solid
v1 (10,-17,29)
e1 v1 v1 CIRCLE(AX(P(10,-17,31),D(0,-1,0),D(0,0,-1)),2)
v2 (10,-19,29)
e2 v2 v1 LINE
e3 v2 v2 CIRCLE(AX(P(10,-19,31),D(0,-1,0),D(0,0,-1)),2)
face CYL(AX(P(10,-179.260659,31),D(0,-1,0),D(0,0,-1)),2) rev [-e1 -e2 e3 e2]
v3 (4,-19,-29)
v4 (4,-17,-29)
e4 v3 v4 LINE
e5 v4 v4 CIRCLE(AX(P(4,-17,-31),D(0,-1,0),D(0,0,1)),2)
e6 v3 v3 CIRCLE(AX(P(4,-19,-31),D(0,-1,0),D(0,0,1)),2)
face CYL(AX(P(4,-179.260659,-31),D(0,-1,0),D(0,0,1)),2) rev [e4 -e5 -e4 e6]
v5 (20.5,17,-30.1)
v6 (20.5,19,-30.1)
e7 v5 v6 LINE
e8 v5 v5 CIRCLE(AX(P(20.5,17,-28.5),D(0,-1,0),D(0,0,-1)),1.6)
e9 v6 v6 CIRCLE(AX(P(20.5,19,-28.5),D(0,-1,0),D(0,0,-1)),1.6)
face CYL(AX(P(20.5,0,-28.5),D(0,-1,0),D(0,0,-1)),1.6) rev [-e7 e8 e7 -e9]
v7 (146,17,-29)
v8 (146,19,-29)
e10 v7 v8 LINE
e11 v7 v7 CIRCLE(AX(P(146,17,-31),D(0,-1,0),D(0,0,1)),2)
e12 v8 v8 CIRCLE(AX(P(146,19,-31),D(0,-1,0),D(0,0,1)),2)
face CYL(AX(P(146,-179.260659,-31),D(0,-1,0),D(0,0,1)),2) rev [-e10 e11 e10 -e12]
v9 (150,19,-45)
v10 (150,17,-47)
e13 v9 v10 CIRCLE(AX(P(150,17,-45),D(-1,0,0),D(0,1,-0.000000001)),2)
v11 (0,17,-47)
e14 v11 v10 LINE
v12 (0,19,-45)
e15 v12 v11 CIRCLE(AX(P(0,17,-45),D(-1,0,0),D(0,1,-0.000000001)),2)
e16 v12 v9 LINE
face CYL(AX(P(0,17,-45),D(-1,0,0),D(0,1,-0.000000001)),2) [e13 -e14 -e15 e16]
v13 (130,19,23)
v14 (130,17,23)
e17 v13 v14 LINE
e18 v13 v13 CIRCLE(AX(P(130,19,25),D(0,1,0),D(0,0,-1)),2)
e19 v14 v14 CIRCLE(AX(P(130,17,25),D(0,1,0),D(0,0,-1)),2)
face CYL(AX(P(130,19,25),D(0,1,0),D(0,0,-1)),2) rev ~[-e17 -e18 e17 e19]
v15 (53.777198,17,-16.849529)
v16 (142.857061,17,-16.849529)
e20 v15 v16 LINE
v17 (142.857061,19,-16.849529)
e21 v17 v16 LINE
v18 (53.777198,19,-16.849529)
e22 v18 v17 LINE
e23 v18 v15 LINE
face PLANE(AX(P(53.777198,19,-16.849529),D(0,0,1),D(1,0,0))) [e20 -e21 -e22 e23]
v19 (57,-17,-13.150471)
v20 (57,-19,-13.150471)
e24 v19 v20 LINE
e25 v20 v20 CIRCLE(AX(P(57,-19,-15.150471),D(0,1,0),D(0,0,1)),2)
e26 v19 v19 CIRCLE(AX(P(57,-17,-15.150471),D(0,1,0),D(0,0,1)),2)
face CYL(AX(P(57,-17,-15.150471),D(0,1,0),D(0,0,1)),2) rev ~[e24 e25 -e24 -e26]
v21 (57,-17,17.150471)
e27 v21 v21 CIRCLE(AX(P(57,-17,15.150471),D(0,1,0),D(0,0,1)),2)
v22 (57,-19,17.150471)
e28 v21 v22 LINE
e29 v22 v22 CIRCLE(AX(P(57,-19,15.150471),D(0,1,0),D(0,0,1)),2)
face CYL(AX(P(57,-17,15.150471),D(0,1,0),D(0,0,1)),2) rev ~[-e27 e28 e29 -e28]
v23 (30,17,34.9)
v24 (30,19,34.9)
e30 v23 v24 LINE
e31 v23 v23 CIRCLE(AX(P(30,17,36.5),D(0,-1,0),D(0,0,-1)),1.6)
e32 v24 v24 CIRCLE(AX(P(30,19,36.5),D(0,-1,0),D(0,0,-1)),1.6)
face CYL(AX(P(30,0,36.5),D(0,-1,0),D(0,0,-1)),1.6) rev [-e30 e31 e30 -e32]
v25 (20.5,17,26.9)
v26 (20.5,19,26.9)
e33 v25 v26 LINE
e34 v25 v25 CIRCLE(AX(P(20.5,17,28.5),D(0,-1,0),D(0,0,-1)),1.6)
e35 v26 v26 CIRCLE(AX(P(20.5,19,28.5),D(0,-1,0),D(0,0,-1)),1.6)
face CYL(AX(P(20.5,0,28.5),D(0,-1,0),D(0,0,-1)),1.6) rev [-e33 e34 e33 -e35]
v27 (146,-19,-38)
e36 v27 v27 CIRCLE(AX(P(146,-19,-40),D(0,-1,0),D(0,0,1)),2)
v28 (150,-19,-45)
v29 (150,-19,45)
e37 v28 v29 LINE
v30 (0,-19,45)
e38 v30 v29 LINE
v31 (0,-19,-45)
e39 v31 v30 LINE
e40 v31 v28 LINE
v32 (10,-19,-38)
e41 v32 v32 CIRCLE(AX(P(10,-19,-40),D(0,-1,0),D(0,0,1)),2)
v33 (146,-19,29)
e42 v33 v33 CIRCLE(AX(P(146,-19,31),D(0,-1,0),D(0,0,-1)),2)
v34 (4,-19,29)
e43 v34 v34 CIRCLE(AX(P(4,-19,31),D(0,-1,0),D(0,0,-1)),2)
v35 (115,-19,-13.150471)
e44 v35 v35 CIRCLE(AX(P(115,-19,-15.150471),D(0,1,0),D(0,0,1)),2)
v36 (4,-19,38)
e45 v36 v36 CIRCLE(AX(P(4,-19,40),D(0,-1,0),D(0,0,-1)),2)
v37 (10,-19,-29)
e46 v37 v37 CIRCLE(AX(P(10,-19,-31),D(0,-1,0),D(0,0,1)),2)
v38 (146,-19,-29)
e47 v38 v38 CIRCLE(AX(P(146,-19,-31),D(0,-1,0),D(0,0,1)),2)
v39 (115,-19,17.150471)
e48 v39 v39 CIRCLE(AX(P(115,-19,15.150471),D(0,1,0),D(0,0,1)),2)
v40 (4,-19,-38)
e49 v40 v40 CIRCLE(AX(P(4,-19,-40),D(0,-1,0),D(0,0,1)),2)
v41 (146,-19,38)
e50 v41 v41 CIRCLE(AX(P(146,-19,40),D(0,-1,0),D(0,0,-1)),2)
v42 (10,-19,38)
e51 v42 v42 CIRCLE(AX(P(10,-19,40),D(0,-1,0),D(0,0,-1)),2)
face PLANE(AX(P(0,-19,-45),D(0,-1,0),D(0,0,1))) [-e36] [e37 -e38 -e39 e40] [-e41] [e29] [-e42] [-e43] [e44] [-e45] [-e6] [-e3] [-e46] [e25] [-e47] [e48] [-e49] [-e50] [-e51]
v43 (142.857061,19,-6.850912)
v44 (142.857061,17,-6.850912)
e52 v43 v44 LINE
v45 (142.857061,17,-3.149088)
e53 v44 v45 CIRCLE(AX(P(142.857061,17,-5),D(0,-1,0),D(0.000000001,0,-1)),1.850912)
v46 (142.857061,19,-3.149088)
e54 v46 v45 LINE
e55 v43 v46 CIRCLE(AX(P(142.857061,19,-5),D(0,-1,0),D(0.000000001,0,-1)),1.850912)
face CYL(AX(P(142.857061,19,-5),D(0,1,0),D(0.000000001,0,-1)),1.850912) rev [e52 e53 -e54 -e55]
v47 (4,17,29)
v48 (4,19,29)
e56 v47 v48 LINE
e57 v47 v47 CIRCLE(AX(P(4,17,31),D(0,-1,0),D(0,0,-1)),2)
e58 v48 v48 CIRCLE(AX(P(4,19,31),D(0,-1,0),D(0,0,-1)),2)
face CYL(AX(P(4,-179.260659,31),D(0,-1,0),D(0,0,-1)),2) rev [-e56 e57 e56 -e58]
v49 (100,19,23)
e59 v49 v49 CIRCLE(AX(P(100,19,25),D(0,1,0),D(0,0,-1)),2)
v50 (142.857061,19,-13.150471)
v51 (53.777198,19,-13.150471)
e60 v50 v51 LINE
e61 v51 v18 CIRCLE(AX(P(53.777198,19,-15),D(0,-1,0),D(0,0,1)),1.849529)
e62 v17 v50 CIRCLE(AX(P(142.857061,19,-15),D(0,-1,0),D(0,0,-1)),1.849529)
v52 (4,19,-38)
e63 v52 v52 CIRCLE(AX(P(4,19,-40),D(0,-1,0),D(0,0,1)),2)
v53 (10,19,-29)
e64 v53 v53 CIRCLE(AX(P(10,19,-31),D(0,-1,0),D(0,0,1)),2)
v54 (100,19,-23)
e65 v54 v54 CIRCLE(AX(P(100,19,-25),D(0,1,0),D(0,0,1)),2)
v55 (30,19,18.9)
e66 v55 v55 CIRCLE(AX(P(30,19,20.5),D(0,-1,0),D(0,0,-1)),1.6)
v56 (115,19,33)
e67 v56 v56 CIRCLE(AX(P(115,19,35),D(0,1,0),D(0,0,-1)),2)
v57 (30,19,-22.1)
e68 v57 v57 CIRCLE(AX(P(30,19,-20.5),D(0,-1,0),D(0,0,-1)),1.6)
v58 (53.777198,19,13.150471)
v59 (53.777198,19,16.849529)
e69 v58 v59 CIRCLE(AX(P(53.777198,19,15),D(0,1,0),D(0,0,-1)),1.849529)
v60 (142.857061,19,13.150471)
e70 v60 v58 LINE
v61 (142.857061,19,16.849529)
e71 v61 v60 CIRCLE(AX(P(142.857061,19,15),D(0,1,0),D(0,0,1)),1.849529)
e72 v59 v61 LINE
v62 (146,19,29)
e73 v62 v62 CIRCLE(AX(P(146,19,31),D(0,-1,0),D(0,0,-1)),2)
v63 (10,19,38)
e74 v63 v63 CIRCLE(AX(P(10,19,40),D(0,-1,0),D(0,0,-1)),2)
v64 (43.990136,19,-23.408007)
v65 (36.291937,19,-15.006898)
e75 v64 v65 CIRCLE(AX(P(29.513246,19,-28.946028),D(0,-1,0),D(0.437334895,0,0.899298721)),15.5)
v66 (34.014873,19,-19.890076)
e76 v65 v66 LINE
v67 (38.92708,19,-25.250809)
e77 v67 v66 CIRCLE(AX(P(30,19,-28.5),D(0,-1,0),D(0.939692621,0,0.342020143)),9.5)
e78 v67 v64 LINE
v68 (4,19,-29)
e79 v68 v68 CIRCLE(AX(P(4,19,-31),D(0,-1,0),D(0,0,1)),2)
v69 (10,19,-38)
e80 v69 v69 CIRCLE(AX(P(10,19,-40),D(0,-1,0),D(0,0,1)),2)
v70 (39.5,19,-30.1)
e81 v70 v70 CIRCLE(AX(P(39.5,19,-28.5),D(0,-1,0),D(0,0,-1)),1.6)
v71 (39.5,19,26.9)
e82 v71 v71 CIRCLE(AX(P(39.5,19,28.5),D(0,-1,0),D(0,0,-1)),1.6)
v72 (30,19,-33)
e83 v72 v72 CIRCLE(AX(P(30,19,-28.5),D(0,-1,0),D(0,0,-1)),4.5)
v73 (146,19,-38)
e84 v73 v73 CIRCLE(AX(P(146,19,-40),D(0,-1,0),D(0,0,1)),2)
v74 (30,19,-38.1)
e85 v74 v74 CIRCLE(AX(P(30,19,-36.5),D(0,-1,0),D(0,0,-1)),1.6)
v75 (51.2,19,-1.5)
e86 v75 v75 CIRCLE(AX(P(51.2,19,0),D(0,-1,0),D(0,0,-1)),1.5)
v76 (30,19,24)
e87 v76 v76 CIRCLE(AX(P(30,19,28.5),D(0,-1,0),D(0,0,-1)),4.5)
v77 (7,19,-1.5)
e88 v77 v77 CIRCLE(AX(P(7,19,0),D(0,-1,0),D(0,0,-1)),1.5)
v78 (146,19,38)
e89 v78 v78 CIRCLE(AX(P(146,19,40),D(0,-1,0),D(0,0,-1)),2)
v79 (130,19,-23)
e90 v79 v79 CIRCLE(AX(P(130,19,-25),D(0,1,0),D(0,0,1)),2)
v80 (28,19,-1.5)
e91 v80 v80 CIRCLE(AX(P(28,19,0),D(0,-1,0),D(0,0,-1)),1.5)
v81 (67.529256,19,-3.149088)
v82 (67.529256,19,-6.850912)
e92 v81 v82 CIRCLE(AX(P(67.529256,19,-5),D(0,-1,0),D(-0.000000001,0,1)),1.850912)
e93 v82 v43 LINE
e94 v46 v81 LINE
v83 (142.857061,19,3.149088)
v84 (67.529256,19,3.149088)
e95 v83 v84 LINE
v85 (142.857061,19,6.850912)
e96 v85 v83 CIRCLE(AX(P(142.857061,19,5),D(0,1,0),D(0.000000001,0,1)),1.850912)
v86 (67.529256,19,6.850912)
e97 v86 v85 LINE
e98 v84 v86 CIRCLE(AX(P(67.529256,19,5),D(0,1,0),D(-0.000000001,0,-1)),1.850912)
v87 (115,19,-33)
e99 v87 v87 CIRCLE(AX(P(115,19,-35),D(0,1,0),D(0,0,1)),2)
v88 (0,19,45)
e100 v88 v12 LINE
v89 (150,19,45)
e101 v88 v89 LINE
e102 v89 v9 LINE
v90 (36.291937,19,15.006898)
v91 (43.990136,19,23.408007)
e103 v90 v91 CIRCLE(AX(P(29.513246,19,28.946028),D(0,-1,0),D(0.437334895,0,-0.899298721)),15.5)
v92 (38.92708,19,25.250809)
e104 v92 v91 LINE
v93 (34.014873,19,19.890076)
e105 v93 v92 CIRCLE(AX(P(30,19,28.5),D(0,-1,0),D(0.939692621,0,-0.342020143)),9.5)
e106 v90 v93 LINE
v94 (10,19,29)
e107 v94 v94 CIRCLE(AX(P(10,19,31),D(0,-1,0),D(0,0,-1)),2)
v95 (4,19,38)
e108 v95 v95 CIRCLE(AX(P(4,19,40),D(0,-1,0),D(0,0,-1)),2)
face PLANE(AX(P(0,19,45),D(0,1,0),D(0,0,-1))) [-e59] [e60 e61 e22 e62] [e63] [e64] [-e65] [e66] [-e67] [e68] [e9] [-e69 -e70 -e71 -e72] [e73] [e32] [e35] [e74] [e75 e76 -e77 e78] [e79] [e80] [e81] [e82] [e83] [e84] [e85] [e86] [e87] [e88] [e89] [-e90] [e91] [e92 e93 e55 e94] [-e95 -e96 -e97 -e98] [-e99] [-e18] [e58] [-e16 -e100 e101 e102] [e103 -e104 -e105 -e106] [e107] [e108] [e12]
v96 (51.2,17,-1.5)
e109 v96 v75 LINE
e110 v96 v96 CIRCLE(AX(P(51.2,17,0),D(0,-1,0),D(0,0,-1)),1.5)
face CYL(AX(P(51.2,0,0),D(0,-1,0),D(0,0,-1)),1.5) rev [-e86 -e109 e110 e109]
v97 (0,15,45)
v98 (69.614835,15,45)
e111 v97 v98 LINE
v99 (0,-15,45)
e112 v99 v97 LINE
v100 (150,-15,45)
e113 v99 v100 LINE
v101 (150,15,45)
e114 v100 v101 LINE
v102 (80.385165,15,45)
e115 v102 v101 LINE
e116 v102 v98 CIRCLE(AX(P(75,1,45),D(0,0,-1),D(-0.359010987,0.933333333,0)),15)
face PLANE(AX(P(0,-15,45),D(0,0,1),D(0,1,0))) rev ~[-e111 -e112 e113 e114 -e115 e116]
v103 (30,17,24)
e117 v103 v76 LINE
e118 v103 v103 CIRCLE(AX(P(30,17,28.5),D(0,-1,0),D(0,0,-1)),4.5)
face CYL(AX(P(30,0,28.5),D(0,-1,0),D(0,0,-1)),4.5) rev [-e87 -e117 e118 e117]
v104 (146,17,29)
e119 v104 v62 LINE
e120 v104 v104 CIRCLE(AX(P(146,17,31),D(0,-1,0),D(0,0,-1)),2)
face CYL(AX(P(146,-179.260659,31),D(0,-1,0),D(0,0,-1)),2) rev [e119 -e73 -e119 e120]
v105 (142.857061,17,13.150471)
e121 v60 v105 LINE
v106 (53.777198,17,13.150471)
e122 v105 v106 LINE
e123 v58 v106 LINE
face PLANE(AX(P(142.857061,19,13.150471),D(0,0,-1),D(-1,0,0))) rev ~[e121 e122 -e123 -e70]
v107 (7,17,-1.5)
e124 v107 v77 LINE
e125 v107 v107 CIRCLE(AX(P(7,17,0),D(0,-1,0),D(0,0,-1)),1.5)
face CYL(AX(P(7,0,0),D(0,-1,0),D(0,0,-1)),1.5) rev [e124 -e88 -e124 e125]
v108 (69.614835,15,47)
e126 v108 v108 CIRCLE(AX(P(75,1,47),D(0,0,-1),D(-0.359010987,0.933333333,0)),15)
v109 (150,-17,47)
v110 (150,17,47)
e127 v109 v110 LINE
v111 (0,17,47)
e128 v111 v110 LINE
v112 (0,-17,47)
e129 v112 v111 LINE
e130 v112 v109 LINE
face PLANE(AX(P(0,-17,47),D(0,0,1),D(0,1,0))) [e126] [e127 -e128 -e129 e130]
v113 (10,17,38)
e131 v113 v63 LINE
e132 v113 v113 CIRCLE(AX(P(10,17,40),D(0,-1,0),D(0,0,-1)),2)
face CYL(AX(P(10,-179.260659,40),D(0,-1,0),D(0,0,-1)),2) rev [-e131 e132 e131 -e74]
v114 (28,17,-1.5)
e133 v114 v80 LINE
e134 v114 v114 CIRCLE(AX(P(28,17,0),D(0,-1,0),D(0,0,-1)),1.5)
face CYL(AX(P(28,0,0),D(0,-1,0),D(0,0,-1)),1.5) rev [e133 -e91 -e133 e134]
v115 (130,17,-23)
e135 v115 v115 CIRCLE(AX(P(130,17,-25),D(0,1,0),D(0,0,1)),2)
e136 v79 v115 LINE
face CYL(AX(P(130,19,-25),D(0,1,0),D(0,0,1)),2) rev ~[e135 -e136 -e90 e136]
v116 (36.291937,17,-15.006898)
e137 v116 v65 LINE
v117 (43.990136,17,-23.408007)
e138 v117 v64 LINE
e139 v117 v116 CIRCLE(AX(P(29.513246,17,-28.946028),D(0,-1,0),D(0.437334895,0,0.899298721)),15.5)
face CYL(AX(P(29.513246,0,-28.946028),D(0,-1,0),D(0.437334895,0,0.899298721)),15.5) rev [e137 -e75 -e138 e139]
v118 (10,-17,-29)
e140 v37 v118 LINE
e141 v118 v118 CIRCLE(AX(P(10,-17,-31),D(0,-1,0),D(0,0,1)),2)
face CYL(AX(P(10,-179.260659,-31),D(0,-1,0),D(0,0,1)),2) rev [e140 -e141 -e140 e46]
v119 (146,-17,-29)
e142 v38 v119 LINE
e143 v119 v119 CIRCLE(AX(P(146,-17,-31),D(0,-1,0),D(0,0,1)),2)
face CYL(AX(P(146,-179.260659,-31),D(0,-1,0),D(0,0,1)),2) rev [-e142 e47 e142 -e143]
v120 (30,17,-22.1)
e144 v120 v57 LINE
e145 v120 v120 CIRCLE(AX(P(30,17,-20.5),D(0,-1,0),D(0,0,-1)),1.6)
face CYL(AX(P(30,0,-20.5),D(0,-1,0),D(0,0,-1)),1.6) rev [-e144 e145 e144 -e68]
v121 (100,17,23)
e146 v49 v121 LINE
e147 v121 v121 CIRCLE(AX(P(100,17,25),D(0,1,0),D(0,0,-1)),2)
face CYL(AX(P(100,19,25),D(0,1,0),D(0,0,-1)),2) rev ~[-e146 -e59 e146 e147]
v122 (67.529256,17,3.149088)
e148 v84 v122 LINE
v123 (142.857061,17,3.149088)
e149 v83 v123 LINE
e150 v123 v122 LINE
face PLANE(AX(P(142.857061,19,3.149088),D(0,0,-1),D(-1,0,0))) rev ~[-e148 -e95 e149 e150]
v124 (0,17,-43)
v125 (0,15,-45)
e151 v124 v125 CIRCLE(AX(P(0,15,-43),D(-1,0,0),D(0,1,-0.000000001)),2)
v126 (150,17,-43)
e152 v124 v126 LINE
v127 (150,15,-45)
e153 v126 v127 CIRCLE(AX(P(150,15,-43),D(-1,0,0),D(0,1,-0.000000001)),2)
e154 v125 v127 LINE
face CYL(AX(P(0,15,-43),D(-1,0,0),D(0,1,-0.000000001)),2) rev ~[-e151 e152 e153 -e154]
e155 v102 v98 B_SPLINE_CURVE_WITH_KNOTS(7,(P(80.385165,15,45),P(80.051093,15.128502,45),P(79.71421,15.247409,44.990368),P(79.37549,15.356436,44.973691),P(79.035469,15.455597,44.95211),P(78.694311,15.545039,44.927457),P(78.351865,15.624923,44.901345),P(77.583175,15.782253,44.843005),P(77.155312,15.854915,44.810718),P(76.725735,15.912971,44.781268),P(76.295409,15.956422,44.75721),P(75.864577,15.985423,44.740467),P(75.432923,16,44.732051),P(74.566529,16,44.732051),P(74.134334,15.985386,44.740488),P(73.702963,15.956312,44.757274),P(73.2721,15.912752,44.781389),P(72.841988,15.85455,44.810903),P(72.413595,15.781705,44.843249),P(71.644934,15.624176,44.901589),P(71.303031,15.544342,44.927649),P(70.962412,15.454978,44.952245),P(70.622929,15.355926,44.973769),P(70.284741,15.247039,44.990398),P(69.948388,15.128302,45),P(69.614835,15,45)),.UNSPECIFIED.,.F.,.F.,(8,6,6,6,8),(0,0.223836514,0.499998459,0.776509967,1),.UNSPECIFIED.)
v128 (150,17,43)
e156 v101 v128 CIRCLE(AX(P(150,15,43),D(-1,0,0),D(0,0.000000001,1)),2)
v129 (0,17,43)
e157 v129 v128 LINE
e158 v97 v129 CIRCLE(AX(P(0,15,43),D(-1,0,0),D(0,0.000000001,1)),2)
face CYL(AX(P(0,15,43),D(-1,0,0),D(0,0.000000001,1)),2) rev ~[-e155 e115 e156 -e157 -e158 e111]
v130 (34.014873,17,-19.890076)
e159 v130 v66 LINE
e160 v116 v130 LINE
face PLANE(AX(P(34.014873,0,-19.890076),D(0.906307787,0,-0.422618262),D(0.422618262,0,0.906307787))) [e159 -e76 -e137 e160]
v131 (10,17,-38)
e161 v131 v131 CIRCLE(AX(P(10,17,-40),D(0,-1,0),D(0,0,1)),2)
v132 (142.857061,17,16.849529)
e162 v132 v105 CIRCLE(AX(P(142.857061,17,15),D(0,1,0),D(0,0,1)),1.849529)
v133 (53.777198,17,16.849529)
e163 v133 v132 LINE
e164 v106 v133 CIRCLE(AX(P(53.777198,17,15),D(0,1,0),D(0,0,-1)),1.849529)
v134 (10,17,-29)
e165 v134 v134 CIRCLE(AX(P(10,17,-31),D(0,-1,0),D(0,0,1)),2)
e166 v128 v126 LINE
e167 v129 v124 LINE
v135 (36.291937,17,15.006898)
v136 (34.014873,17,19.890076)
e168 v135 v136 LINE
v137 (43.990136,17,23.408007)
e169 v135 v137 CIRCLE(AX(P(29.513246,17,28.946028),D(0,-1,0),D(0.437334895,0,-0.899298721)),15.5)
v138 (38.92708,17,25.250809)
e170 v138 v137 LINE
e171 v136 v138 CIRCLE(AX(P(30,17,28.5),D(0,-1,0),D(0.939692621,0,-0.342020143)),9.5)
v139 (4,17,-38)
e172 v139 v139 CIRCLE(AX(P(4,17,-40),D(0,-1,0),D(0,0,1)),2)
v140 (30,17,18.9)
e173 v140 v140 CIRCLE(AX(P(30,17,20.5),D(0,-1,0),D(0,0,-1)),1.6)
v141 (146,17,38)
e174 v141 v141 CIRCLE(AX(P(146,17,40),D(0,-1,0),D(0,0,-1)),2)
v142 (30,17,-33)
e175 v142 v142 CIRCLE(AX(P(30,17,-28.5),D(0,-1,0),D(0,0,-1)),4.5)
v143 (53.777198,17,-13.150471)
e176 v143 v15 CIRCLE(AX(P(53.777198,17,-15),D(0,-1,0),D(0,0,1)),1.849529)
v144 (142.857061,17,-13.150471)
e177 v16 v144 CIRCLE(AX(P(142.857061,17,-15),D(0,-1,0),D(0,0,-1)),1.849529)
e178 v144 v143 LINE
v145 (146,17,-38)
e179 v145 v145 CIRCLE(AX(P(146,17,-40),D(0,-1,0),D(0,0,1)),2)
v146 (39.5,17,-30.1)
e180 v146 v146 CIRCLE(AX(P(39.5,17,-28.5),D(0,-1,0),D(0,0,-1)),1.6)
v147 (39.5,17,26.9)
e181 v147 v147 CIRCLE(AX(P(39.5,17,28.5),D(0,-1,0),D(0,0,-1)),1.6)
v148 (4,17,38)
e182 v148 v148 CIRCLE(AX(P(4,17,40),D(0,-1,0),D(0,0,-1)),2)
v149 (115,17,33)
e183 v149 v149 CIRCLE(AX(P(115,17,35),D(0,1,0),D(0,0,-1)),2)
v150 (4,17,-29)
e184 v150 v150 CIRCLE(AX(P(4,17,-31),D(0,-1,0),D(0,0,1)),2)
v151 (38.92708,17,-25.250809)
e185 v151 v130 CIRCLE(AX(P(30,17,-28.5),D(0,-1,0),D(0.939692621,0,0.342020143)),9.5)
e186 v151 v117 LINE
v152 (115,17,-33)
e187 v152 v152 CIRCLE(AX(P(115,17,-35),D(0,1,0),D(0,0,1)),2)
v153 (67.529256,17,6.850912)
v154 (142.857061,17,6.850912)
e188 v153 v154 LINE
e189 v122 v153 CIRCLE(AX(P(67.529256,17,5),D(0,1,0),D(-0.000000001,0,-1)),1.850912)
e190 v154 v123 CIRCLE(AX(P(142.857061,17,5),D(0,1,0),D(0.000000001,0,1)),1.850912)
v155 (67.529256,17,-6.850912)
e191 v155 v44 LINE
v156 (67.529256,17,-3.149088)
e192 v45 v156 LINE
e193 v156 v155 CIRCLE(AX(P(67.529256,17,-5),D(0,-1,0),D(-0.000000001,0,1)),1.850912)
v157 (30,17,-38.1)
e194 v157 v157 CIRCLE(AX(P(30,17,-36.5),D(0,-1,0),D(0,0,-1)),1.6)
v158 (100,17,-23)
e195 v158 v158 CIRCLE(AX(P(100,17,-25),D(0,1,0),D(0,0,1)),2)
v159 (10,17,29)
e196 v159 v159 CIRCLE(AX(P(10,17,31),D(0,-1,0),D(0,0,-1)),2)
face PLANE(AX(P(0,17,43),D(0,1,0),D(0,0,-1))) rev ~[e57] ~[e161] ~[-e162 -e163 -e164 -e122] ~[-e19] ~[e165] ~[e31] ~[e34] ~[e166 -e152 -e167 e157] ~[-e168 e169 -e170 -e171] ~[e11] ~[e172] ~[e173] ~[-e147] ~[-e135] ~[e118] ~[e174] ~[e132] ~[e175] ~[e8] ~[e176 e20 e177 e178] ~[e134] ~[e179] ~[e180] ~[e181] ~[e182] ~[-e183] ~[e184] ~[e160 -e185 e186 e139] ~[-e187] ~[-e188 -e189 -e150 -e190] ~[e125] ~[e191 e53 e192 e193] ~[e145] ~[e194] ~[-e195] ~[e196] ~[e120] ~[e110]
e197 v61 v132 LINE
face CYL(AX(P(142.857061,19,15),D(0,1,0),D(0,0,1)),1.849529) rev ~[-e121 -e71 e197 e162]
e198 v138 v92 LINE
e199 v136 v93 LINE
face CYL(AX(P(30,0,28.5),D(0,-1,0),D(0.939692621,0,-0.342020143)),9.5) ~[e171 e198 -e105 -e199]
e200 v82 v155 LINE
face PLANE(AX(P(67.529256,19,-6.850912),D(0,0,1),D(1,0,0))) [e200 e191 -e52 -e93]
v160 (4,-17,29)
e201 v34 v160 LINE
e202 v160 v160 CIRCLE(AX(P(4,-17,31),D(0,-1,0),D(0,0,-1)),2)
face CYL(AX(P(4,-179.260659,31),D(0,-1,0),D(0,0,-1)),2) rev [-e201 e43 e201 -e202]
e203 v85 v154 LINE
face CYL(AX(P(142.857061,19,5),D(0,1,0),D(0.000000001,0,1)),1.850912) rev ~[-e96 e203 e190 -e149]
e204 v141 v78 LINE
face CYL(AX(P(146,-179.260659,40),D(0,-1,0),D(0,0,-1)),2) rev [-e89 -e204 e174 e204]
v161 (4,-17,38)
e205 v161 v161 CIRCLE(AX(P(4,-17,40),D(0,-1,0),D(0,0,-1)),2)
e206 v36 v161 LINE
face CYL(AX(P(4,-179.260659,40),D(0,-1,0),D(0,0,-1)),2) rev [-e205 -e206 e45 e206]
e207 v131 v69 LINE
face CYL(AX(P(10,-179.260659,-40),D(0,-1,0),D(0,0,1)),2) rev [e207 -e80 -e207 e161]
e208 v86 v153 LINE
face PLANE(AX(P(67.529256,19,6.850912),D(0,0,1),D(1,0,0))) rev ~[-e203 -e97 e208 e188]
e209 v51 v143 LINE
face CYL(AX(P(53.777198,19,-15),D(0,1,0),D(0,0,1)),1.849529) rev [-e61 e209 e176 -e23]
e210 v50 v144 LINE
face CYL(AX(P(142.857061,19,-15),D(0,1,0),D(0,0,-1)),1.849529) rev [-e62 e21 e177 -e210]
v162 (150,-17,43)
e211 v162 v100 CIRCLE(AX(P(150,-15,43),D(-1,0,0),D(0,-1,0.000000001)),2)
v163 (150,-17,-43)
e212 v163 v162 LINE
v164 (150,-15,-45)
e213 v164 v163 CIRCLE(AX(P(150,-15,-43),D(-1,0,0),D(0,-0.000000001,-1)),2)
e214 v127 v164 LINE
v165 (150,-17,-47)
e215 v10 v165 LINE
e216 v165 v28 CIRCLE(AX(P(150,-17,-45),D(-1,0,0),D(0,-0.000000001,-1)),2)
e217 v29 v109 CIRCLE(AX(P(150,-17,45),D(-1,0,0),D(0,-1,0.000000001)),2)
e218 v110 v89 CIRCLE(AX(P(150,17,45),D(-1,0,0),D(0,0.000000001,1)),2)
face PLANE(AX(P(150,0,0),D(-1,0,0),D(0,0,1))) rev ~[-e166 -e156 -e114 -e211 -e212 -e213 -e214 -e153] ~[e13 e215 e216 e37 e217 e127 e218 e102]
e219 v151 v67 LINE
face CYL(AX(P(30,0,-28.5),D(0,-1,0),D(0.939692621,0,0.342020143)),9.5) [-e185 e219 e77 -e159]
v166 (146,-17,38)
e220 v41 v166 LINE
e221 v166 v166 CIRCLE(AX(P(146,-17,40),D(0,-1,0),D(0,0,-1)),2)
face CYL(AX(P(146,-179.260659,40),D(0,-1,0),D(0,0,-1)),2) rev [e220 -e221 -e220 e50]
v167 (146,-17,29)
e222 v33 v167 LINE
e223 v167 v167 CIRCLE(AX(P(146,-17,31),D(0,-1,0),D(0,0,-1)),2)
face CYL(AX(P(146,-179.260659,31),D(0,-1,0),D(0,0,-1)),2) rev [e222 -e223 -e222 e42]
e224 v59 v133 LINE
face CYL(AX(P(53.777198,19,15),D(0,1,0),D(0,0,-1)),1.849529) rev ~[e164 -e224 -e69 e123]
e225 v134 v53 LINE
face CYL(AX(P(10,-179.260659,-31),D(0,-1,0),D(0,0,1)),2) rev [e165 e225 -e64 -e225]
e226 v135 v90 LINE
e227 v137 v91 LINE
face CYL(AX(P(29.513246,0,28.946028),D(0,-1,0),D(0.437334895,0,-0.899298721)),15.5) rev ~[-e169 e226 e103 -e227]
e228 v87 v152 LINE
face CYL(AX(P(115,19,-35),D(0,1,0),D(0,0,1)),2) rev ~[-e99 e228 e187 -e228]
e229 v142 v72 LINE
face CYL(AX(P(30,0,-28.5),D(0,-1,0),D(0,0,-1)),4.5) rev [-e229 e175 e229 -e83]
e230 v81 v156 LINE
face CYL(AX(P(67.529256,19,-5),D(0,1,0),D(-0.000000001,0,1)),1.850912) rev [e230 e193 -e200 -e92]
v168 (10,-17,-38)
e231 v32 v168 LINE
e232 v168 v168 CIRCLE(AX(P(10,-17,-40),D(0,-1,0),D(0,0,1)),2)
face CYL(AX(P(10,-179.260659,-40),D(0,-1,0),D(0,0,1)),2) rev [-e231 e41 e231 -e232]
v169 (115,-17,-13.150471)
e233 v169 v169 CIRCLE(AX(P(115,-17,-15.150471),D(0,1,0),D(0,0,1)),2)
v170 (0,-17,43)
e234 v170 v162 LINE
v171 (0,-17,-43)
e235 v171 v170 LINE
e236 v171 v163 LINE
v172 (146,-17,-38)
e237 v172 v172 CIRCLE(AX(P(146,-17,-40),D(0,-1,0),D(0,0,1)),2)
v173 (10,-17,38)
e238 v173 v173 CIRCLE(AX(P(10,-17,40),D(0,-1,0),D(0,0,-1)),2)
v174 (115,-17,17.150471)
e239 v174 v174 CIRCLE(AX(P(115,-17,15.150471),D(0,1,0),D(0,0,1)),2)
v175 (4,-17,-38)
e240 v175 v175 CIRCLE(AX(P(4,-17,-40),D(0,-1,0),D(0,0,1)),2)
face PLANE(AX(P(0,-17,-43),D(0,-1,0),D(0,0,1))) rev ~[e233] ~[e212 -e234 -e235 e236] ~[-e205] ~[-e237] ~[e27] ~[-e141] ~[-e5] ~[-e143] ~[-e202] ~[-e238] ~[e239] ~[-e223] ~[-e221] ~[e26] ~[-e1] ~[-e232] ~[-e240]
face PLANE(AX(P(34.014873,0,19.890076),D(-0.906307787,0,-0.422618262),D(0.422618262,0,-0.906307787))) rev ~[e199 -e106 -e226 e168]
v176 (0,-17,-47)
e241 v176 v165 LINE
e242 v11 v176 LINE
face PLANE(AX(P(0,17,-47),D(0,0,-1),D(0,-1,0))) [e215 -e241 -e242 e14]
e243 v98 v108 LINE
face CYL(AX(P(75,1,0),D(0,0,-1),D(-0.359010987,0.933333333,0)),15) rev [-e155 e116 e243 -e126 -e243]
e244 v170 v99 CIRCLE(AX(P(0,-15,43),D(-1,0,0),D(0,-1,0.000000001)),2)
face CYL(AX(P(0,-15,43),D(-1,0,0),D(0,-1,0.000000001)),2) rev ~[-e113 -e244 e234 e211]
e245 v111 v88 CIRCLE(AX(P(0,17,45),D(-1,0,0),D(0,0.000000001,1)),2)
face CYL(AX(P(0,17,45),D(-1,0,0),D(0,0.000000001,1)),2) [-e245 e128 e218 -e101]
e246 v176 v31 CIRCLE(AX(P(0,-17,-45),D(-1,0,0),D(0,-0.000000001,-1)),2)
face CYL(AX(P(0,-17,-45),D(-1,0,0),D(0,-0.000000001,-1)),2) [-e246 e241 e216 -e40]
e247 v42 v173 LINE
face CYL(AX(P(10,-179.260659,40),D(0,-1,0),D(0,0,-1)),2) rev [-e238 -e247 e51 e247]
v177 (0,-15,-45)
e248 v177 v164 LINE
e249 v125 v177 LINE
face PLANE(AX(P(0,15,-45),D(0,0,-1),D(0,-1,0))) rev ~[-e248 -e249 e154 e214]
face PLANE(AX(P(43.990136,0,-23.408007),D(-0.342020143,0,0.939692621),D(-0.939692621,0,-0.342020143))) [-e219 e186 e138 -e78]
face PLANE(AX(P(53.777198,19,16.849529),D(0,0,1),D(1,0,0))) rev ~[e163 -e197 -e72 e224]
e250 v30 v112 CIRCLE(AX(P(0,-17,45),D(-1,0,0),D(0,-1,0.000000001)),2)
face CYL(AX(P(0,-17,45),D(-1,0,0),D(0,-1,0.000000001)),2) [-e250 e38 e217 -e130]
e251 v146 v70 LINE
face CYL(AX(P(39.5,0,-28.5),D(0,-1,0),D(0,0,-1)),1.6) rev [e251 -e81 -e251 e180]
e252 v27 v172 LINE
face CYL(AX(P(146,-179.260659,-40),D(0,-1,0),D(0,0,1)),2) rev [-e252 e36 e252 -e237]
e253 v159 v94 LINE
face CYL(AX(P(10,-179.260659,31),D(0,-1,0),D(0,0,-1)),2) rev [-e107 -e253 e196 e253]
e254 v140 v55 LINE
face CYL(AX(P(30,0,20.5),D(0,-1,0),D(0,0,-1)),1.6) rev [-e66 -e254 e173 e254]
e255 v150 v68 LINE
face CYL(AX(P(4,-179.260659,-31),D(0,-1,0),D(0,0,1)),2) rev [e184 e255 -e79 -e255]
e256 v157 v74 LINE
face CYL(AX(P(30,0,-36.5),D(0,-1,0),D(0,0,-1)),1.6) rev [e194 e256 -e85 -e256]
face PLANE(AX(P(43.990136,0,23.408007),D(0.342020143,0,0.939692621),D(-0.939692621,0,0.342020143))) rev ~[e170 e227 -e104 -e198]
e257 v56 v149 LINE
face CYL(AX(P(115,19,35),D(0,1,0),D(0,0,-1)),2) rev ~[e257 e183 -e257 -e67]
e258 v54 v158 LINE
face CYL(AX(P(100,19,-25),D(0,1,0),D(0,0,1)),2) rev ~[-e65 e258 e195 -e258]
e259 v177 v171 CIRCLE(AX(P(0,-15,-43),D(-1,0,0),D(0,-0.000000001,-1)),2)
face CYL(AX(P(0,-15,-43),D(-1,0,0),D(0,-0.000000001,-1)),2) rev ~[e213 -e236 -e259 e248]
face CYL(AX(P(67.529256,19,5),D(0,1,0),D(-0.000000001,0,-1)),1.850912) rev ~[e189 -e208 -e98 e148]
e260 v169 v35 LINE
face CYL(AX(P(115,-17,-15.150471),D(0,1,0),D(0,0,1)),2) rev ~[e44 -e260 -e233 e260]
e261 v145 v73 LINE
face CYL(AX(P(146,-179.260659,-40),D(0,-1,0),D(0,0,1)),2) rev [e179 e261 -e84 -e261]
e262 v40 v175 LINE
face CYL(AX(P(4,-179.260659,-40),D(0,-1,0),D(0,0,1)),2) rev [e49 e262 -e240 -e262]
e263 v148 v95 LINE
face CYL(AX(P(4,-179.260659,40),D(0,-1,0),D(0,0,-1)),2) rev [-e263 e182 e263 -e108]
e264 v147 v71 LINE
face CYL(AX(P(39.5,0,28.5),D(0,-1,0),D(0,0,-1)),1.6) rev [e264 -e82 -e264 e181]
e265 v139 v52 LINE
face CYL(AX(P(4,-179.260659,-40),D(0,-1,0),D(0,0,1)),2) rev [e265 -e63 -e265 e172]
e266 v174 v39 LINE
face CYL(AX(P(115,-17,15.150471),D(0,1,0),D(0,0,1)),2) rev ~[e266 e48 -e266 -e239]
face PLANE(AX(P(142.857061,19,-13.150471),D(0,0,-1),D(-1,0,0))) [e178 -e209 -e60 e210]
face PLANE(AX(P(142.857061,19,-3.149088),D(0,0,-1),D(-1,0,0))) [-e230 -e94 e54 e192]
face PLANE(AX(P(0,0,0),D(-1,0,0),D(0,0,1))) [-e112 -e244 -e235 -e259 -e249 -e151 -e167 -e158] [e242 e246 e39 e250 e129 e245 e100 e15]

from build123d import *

# Parameters (mm, degrees)
EXTRUDE_1218_DEPTH          = 150
SKETCH_1_R                  = 1.5
SKETCH_1_R_2                = 4.5
SKETCH_1_R_3                = 1.6
CUT_EXTRUDE_1265_DEPTH      = 159.33508771
SKETCH_6_R                  = 15
CUT_EXTRUDE_1532_DEPTH      = 159.33508771
SKETCH_12_R                 = 2
CUT_EXTRUDE_1963_DEPTH      = 2
CUT_EXTRUDE_2327_DEPTH      = 162.260658685
CUT_EXTRUDE_2327_DEPTH_BACK = 162.260658685
SKETCH_14_R                 = 2
SKETCH_15_R                 = 2
CUT_EXTRUDE_2529_DEPTH      = 162.260658685


with BuildPart() as part:
    # 草图2 → Extrude 1218 (new body)
    with BuildSketch(Plane(origin=(0, 0, 0), x_dir=(0, 0, -1), z_dir=(1, 0, 0))):
        with BuildLine():
            Line((-45, 19), (45, 19))
            ThreePointArc((45, 19), (46.414213562, 18.414213562), (47, 17))
            Line((47, 17), (47, -17))
            ThreePointArc((47, -17), (46.414213562, -18.414213562), (45, -19))
            Line((45, -19), (-45, -19))
            ThreePointArc((-45, -19), (-46.414213562, -18.414213562), (-47, -17))
            Line((-47, -17), (-47, 17))
            ThreePointArc((-47, 17), (-46.414213562, 18.414213562), (-45, 19))
        make_face()
        with BuildLine():
            Line((-43, 17), (43, 17))
            ThreePointArc((43, 17), (44.414213562, 16.414213562), (45, 15))
            Line((45, 15), (45, -15))
            ThreePointArc((45, -15), (44.414213562, -16.414213562), (43, -17))
            Line((43, -17), (-43, -17))
            ThreePointArc((-43, -17), (-44.414213562, -16.414213562), (-45, -15))
            Line((-45, -15), (-45, 15))
            ThreePointArc((-45, 15), (-44.414213562, 16.414213562), (-43, 17))
        make_face(mode=Mode.SUBTRACT)
    extrude(amount=EXTRUDE_1218_DEPTH)

    # 草图1 → Cut-Extrude 1265 (cut, through all)
    with BuildSketch(Plane(origin=(0, 0, 0), x_dir=(1, 0, 0), z_dir=(0, 1, 0))):
        with Locations(Location((7, 0, 0), (0, 0, 90))):
            Circle(SKETCH_1_R)
        with Locations(Location((28, 0, 0), (0, 0, 90))):
            Circle(SKETCH_1_R)
        with Locations(Location((51.2, 0, 0), (0, 0, 90))):
            Circle(SKETCH_1_R)
        with Locations(Location((30, -28.5, 0), (0, 0, 90))):
            Circle(SKETCH_1_R_2)
        with Locations(Location((30, 28.5, 0), (0, 0, 90))):
            Circle(SKETCH_1_R_2)
        with Locations(Location((20.5, -28.5, 0), (0, 0, 90))):
            Circle(SKETCH_1_R_3)
        with Locations(Location((39.5, -28.5, 0), (0, 0, 90))):
            Circle(SKETCH_1_R_3)
        with Locations(Location((30, -36.5, 0), (0, 0, 90))):
            Circle(SKETCH_1_R_3)
        with Locations(Location((30, -20.5, 0), (0, 0, 90))):
            Circle(SKETCH_1_R_3)
        with Locations(Location((39.5, 28.5, 0), (0, 0, 90))):
            Circle(SKETCH_1_R_3)
        with Locations(Location((30, 36.5, 0), (0, 0, 90))):
            Circle(SKETCH_1_R_3)
        with Locations(Location((20.5, 28.5, 0), (0, 0, 90))):
            Circle(SKETCH_1_R_3)
        with Locations(Location((30, 20.5, 0), (0, 0, 90))):
            Circle(SKETCH_1_R_3)
        with BuildLine():
            Line((34.014873487, 19.890076023), (36.291936994, 15.006897573))
            ThreePointArc((36.291936994, 15.006897573), (40.941044845, 18.474379532), (43.990135541, 23.40800709))
            Line((43.990135541, 23.40800709), (38.927079897, 25.250808638))
            ThreePointArc((38.927079897, 25.250808638), (37.0041347, 22.081893028), (34.014873487, 19.890076023))
        make_face()
        with BuildLine():
            Line((34.014873487, -19.890076023), (36.291936994, -15.006897573))
            ThreePointArc((36.291936994, -15.006897573), (40.941044845, -18.474379532), (43.990135541, -23.40800709))
            Line((43.990135541, -23.40800709), (38.927079897, -25.250808638))
            ThreePointArc((38.927079897, -25.250808638), (37.0041347, -22.081893028), (34.014873487, -19.890076023))
        make_face()
    extrude(amount=CUT_EXTRUDE_1265_DEPTH, mode=Mode.SUBTRACT)

    # 草图6 → Cut-Extrude 1532 (cut, through all)
    with BuildSketch(Plane.XY):
        with Locations(Location((75, 1, 0), (0, 0, 111.039469781))):
            Circle(SKETCH_6_R)
    extrude(amount=CUT_EXTRUDE_1532_DEPTH, mode=Mode.SUBTRACT)

    # 草图12 → Cut-Extrude 1963 (cut)
    with BuildSketch(Plane(origin=(0, 19, 0), x_dir=(1, 0, 0), z_dir=(0, 1, 0))):
        with Locations(Location((100, 25, 0), (0, 0, 270))):
            Circle(SKETCH_12_R)
        with Locations(Location((130, 25, 0), (0, 0, 270))):
            Circle(SKETCH_12_R)
        with Locations(Location((115, 35, 0), (0, 0, 270))):
            Circle(SKETCH_12_R)
        with Locations(Location((115, -35, 0), (0, 0, 90))):
            Circle(SKETCH_12_R)
        with Locations(Location((130, -25, 0), (0, 0, 90))):
            Circle(SKETCH_12_R)
        with Locations(Location((100, -25, 0), (0, 0, 90))):
            Circle(SKETCH_12_R)
        with BuildLine():
            Line((53.777197841, 16.849529373), (142.85706065, 16.849529373))
            ThreePointArc((142.85706065, 16.849529373), (144.706590023, 15), (142.85706065, 13.150470627))
            Line((142.85706065, 13.150470627), (53.777197841, 13.150470627))
            ThreePointArc((53.777197841, 13.150470627), (51.927668468, 15), (53.777197841, 16.849529373))
        make_face()
        with BuildLine():
            Line((67.529255568, 6.850912176), (142.85706065, 6.850912176))
            ThreePointArc((142.85706065, 6.850912176), (144.707972825, 5), (142.85706065, 3.149087824))
            Line((142.85706065, 3.149087824), (67.529255568, 3.149087824))
            ThreePointArc((67.529255568, 3.149087824), (65.678343393, 5), (67.529255568, 6.850912176))
        make_face()
        with BuildLine():
            Line((53.777197841, -16.849529373), (142.85706065, -16.849529373))
            ThreePointArc((142.85706065, -16.849529373), (144.706590023, -15), (142.85706065, -13.150470627))
            Line((142.85706065, -13.150470627), (53.777197841, -13.150470627))
            ThreePointArc((53.777197841, -13.150470627), (51.927668468, -15), (53.777197841, -16.849529373))
        make_face()
        with BuildLine():
            Line((67.529255568, -6.850912176), (142.85706065, -6.850912176))
            ThreePointArc((142.85706065, -6.850912176), (144.707972825, -5), (142.85706065, -3.149087824))
            Line((142.85706065, -3.149087824), (67.529255568, -3.149087824))
            ThreePointArc((67.529255568, -3.149087824), (65.678343393, -5), (67.529255568, -6.850912176))
        make_face()
    extrude(amount=-CUT_EXTRUDE_1963_DEPTH, mode=Mode.SUBTRACT)

    # 草图14 → Cut-Extrude 2327 (cut, two sides: drawn at the far end of the back side and taken through both)
    with BuildSketch(Plane(origin=(0, -17, 0), x_dir=(1, 0, 0), z_dir=(0, 1, 0)).offset(-CUT_EXTRUDE_2327_DEPTH_BACK)):
        with Locations(Location((4, 40, 0), (0, 0, 270))):
            Circle(SKETCH_14_R)
        with Locations(Location((4, 31, 0), (0, 0, 270))):
            Circle(SKETCH_14_R)
        with Locations(Location((4, -31, 0), (0, 0, 90))):
            Circle(SKETCH_14_R)
        with Locations(Location((4, -40, 0), (0, 0, 90))):
            Circle(SKETCH_14_R)
        with Locations(Location((146, 40, 0), (0, 0, 270))):
            Circle(SKETCH_14_R)
        with Locations(Location((146, 31, 0), (0, 0, 270))):
            Circle(SKETCH_14_R)
        with Locations(Location((146, -40, 0), (0, 0, 90))):
            Circle(SKETCH_14_R)
        with Locations(Location((146, -31, 0), (0, 0, 90))):
            Circle(SKETCH_14_R)
        with Locations(Location((10, 40, 0), (0, 0, 270))):
            Circle(SKETCH_14_R)
        with Locations(Location((10, 31, 0), (0, 0, 270))):
            Circle(SKETCH_14_R)
        with Locations(Location((10, -40, 0), (0, 0, 90))):
            Circle(SKETCH_14_R)
        with Locations(Location((10, -31, 0), (0, 0, 90))):
            Circle(SKETCH_14_R)
    extrude(amount=CUT_EXTRUDE_2327_DEPTH + CUT_EXTRUDE_2327_DEPTH_BACK, mode=Mode.SUBTRACT)

    # 草图15 → Cut-Extrude 2529 (cut, through all)
    with BuildSketch(Plane(origin=(0, -17, 0), x_dir=(1, 0, 0), z_dir=(0, 1, 0))):
        with Locations(Location((57, 15.150470627, 0), (0, 0, 270))):
            Circle(SKETCH_15_R)
        with Locations(Location((57, -15.150470627, 0), (0, 0, 270))):
            Circle(SKETCH_15_R)
        with Locations(Location((115, 15.150470627, 0), (0, 0, 270))):
            Circle(SKETCH_15_R)
        with Locations(Location((115, -15.150470627, 0), (0, 0, 270))):
            Circle(SKETCH_15_R)
    extrude(amount=-CUT_EXTRUDE_2529_DEPTH, mode=Mode.SUBTRACT)


solid = part.part
